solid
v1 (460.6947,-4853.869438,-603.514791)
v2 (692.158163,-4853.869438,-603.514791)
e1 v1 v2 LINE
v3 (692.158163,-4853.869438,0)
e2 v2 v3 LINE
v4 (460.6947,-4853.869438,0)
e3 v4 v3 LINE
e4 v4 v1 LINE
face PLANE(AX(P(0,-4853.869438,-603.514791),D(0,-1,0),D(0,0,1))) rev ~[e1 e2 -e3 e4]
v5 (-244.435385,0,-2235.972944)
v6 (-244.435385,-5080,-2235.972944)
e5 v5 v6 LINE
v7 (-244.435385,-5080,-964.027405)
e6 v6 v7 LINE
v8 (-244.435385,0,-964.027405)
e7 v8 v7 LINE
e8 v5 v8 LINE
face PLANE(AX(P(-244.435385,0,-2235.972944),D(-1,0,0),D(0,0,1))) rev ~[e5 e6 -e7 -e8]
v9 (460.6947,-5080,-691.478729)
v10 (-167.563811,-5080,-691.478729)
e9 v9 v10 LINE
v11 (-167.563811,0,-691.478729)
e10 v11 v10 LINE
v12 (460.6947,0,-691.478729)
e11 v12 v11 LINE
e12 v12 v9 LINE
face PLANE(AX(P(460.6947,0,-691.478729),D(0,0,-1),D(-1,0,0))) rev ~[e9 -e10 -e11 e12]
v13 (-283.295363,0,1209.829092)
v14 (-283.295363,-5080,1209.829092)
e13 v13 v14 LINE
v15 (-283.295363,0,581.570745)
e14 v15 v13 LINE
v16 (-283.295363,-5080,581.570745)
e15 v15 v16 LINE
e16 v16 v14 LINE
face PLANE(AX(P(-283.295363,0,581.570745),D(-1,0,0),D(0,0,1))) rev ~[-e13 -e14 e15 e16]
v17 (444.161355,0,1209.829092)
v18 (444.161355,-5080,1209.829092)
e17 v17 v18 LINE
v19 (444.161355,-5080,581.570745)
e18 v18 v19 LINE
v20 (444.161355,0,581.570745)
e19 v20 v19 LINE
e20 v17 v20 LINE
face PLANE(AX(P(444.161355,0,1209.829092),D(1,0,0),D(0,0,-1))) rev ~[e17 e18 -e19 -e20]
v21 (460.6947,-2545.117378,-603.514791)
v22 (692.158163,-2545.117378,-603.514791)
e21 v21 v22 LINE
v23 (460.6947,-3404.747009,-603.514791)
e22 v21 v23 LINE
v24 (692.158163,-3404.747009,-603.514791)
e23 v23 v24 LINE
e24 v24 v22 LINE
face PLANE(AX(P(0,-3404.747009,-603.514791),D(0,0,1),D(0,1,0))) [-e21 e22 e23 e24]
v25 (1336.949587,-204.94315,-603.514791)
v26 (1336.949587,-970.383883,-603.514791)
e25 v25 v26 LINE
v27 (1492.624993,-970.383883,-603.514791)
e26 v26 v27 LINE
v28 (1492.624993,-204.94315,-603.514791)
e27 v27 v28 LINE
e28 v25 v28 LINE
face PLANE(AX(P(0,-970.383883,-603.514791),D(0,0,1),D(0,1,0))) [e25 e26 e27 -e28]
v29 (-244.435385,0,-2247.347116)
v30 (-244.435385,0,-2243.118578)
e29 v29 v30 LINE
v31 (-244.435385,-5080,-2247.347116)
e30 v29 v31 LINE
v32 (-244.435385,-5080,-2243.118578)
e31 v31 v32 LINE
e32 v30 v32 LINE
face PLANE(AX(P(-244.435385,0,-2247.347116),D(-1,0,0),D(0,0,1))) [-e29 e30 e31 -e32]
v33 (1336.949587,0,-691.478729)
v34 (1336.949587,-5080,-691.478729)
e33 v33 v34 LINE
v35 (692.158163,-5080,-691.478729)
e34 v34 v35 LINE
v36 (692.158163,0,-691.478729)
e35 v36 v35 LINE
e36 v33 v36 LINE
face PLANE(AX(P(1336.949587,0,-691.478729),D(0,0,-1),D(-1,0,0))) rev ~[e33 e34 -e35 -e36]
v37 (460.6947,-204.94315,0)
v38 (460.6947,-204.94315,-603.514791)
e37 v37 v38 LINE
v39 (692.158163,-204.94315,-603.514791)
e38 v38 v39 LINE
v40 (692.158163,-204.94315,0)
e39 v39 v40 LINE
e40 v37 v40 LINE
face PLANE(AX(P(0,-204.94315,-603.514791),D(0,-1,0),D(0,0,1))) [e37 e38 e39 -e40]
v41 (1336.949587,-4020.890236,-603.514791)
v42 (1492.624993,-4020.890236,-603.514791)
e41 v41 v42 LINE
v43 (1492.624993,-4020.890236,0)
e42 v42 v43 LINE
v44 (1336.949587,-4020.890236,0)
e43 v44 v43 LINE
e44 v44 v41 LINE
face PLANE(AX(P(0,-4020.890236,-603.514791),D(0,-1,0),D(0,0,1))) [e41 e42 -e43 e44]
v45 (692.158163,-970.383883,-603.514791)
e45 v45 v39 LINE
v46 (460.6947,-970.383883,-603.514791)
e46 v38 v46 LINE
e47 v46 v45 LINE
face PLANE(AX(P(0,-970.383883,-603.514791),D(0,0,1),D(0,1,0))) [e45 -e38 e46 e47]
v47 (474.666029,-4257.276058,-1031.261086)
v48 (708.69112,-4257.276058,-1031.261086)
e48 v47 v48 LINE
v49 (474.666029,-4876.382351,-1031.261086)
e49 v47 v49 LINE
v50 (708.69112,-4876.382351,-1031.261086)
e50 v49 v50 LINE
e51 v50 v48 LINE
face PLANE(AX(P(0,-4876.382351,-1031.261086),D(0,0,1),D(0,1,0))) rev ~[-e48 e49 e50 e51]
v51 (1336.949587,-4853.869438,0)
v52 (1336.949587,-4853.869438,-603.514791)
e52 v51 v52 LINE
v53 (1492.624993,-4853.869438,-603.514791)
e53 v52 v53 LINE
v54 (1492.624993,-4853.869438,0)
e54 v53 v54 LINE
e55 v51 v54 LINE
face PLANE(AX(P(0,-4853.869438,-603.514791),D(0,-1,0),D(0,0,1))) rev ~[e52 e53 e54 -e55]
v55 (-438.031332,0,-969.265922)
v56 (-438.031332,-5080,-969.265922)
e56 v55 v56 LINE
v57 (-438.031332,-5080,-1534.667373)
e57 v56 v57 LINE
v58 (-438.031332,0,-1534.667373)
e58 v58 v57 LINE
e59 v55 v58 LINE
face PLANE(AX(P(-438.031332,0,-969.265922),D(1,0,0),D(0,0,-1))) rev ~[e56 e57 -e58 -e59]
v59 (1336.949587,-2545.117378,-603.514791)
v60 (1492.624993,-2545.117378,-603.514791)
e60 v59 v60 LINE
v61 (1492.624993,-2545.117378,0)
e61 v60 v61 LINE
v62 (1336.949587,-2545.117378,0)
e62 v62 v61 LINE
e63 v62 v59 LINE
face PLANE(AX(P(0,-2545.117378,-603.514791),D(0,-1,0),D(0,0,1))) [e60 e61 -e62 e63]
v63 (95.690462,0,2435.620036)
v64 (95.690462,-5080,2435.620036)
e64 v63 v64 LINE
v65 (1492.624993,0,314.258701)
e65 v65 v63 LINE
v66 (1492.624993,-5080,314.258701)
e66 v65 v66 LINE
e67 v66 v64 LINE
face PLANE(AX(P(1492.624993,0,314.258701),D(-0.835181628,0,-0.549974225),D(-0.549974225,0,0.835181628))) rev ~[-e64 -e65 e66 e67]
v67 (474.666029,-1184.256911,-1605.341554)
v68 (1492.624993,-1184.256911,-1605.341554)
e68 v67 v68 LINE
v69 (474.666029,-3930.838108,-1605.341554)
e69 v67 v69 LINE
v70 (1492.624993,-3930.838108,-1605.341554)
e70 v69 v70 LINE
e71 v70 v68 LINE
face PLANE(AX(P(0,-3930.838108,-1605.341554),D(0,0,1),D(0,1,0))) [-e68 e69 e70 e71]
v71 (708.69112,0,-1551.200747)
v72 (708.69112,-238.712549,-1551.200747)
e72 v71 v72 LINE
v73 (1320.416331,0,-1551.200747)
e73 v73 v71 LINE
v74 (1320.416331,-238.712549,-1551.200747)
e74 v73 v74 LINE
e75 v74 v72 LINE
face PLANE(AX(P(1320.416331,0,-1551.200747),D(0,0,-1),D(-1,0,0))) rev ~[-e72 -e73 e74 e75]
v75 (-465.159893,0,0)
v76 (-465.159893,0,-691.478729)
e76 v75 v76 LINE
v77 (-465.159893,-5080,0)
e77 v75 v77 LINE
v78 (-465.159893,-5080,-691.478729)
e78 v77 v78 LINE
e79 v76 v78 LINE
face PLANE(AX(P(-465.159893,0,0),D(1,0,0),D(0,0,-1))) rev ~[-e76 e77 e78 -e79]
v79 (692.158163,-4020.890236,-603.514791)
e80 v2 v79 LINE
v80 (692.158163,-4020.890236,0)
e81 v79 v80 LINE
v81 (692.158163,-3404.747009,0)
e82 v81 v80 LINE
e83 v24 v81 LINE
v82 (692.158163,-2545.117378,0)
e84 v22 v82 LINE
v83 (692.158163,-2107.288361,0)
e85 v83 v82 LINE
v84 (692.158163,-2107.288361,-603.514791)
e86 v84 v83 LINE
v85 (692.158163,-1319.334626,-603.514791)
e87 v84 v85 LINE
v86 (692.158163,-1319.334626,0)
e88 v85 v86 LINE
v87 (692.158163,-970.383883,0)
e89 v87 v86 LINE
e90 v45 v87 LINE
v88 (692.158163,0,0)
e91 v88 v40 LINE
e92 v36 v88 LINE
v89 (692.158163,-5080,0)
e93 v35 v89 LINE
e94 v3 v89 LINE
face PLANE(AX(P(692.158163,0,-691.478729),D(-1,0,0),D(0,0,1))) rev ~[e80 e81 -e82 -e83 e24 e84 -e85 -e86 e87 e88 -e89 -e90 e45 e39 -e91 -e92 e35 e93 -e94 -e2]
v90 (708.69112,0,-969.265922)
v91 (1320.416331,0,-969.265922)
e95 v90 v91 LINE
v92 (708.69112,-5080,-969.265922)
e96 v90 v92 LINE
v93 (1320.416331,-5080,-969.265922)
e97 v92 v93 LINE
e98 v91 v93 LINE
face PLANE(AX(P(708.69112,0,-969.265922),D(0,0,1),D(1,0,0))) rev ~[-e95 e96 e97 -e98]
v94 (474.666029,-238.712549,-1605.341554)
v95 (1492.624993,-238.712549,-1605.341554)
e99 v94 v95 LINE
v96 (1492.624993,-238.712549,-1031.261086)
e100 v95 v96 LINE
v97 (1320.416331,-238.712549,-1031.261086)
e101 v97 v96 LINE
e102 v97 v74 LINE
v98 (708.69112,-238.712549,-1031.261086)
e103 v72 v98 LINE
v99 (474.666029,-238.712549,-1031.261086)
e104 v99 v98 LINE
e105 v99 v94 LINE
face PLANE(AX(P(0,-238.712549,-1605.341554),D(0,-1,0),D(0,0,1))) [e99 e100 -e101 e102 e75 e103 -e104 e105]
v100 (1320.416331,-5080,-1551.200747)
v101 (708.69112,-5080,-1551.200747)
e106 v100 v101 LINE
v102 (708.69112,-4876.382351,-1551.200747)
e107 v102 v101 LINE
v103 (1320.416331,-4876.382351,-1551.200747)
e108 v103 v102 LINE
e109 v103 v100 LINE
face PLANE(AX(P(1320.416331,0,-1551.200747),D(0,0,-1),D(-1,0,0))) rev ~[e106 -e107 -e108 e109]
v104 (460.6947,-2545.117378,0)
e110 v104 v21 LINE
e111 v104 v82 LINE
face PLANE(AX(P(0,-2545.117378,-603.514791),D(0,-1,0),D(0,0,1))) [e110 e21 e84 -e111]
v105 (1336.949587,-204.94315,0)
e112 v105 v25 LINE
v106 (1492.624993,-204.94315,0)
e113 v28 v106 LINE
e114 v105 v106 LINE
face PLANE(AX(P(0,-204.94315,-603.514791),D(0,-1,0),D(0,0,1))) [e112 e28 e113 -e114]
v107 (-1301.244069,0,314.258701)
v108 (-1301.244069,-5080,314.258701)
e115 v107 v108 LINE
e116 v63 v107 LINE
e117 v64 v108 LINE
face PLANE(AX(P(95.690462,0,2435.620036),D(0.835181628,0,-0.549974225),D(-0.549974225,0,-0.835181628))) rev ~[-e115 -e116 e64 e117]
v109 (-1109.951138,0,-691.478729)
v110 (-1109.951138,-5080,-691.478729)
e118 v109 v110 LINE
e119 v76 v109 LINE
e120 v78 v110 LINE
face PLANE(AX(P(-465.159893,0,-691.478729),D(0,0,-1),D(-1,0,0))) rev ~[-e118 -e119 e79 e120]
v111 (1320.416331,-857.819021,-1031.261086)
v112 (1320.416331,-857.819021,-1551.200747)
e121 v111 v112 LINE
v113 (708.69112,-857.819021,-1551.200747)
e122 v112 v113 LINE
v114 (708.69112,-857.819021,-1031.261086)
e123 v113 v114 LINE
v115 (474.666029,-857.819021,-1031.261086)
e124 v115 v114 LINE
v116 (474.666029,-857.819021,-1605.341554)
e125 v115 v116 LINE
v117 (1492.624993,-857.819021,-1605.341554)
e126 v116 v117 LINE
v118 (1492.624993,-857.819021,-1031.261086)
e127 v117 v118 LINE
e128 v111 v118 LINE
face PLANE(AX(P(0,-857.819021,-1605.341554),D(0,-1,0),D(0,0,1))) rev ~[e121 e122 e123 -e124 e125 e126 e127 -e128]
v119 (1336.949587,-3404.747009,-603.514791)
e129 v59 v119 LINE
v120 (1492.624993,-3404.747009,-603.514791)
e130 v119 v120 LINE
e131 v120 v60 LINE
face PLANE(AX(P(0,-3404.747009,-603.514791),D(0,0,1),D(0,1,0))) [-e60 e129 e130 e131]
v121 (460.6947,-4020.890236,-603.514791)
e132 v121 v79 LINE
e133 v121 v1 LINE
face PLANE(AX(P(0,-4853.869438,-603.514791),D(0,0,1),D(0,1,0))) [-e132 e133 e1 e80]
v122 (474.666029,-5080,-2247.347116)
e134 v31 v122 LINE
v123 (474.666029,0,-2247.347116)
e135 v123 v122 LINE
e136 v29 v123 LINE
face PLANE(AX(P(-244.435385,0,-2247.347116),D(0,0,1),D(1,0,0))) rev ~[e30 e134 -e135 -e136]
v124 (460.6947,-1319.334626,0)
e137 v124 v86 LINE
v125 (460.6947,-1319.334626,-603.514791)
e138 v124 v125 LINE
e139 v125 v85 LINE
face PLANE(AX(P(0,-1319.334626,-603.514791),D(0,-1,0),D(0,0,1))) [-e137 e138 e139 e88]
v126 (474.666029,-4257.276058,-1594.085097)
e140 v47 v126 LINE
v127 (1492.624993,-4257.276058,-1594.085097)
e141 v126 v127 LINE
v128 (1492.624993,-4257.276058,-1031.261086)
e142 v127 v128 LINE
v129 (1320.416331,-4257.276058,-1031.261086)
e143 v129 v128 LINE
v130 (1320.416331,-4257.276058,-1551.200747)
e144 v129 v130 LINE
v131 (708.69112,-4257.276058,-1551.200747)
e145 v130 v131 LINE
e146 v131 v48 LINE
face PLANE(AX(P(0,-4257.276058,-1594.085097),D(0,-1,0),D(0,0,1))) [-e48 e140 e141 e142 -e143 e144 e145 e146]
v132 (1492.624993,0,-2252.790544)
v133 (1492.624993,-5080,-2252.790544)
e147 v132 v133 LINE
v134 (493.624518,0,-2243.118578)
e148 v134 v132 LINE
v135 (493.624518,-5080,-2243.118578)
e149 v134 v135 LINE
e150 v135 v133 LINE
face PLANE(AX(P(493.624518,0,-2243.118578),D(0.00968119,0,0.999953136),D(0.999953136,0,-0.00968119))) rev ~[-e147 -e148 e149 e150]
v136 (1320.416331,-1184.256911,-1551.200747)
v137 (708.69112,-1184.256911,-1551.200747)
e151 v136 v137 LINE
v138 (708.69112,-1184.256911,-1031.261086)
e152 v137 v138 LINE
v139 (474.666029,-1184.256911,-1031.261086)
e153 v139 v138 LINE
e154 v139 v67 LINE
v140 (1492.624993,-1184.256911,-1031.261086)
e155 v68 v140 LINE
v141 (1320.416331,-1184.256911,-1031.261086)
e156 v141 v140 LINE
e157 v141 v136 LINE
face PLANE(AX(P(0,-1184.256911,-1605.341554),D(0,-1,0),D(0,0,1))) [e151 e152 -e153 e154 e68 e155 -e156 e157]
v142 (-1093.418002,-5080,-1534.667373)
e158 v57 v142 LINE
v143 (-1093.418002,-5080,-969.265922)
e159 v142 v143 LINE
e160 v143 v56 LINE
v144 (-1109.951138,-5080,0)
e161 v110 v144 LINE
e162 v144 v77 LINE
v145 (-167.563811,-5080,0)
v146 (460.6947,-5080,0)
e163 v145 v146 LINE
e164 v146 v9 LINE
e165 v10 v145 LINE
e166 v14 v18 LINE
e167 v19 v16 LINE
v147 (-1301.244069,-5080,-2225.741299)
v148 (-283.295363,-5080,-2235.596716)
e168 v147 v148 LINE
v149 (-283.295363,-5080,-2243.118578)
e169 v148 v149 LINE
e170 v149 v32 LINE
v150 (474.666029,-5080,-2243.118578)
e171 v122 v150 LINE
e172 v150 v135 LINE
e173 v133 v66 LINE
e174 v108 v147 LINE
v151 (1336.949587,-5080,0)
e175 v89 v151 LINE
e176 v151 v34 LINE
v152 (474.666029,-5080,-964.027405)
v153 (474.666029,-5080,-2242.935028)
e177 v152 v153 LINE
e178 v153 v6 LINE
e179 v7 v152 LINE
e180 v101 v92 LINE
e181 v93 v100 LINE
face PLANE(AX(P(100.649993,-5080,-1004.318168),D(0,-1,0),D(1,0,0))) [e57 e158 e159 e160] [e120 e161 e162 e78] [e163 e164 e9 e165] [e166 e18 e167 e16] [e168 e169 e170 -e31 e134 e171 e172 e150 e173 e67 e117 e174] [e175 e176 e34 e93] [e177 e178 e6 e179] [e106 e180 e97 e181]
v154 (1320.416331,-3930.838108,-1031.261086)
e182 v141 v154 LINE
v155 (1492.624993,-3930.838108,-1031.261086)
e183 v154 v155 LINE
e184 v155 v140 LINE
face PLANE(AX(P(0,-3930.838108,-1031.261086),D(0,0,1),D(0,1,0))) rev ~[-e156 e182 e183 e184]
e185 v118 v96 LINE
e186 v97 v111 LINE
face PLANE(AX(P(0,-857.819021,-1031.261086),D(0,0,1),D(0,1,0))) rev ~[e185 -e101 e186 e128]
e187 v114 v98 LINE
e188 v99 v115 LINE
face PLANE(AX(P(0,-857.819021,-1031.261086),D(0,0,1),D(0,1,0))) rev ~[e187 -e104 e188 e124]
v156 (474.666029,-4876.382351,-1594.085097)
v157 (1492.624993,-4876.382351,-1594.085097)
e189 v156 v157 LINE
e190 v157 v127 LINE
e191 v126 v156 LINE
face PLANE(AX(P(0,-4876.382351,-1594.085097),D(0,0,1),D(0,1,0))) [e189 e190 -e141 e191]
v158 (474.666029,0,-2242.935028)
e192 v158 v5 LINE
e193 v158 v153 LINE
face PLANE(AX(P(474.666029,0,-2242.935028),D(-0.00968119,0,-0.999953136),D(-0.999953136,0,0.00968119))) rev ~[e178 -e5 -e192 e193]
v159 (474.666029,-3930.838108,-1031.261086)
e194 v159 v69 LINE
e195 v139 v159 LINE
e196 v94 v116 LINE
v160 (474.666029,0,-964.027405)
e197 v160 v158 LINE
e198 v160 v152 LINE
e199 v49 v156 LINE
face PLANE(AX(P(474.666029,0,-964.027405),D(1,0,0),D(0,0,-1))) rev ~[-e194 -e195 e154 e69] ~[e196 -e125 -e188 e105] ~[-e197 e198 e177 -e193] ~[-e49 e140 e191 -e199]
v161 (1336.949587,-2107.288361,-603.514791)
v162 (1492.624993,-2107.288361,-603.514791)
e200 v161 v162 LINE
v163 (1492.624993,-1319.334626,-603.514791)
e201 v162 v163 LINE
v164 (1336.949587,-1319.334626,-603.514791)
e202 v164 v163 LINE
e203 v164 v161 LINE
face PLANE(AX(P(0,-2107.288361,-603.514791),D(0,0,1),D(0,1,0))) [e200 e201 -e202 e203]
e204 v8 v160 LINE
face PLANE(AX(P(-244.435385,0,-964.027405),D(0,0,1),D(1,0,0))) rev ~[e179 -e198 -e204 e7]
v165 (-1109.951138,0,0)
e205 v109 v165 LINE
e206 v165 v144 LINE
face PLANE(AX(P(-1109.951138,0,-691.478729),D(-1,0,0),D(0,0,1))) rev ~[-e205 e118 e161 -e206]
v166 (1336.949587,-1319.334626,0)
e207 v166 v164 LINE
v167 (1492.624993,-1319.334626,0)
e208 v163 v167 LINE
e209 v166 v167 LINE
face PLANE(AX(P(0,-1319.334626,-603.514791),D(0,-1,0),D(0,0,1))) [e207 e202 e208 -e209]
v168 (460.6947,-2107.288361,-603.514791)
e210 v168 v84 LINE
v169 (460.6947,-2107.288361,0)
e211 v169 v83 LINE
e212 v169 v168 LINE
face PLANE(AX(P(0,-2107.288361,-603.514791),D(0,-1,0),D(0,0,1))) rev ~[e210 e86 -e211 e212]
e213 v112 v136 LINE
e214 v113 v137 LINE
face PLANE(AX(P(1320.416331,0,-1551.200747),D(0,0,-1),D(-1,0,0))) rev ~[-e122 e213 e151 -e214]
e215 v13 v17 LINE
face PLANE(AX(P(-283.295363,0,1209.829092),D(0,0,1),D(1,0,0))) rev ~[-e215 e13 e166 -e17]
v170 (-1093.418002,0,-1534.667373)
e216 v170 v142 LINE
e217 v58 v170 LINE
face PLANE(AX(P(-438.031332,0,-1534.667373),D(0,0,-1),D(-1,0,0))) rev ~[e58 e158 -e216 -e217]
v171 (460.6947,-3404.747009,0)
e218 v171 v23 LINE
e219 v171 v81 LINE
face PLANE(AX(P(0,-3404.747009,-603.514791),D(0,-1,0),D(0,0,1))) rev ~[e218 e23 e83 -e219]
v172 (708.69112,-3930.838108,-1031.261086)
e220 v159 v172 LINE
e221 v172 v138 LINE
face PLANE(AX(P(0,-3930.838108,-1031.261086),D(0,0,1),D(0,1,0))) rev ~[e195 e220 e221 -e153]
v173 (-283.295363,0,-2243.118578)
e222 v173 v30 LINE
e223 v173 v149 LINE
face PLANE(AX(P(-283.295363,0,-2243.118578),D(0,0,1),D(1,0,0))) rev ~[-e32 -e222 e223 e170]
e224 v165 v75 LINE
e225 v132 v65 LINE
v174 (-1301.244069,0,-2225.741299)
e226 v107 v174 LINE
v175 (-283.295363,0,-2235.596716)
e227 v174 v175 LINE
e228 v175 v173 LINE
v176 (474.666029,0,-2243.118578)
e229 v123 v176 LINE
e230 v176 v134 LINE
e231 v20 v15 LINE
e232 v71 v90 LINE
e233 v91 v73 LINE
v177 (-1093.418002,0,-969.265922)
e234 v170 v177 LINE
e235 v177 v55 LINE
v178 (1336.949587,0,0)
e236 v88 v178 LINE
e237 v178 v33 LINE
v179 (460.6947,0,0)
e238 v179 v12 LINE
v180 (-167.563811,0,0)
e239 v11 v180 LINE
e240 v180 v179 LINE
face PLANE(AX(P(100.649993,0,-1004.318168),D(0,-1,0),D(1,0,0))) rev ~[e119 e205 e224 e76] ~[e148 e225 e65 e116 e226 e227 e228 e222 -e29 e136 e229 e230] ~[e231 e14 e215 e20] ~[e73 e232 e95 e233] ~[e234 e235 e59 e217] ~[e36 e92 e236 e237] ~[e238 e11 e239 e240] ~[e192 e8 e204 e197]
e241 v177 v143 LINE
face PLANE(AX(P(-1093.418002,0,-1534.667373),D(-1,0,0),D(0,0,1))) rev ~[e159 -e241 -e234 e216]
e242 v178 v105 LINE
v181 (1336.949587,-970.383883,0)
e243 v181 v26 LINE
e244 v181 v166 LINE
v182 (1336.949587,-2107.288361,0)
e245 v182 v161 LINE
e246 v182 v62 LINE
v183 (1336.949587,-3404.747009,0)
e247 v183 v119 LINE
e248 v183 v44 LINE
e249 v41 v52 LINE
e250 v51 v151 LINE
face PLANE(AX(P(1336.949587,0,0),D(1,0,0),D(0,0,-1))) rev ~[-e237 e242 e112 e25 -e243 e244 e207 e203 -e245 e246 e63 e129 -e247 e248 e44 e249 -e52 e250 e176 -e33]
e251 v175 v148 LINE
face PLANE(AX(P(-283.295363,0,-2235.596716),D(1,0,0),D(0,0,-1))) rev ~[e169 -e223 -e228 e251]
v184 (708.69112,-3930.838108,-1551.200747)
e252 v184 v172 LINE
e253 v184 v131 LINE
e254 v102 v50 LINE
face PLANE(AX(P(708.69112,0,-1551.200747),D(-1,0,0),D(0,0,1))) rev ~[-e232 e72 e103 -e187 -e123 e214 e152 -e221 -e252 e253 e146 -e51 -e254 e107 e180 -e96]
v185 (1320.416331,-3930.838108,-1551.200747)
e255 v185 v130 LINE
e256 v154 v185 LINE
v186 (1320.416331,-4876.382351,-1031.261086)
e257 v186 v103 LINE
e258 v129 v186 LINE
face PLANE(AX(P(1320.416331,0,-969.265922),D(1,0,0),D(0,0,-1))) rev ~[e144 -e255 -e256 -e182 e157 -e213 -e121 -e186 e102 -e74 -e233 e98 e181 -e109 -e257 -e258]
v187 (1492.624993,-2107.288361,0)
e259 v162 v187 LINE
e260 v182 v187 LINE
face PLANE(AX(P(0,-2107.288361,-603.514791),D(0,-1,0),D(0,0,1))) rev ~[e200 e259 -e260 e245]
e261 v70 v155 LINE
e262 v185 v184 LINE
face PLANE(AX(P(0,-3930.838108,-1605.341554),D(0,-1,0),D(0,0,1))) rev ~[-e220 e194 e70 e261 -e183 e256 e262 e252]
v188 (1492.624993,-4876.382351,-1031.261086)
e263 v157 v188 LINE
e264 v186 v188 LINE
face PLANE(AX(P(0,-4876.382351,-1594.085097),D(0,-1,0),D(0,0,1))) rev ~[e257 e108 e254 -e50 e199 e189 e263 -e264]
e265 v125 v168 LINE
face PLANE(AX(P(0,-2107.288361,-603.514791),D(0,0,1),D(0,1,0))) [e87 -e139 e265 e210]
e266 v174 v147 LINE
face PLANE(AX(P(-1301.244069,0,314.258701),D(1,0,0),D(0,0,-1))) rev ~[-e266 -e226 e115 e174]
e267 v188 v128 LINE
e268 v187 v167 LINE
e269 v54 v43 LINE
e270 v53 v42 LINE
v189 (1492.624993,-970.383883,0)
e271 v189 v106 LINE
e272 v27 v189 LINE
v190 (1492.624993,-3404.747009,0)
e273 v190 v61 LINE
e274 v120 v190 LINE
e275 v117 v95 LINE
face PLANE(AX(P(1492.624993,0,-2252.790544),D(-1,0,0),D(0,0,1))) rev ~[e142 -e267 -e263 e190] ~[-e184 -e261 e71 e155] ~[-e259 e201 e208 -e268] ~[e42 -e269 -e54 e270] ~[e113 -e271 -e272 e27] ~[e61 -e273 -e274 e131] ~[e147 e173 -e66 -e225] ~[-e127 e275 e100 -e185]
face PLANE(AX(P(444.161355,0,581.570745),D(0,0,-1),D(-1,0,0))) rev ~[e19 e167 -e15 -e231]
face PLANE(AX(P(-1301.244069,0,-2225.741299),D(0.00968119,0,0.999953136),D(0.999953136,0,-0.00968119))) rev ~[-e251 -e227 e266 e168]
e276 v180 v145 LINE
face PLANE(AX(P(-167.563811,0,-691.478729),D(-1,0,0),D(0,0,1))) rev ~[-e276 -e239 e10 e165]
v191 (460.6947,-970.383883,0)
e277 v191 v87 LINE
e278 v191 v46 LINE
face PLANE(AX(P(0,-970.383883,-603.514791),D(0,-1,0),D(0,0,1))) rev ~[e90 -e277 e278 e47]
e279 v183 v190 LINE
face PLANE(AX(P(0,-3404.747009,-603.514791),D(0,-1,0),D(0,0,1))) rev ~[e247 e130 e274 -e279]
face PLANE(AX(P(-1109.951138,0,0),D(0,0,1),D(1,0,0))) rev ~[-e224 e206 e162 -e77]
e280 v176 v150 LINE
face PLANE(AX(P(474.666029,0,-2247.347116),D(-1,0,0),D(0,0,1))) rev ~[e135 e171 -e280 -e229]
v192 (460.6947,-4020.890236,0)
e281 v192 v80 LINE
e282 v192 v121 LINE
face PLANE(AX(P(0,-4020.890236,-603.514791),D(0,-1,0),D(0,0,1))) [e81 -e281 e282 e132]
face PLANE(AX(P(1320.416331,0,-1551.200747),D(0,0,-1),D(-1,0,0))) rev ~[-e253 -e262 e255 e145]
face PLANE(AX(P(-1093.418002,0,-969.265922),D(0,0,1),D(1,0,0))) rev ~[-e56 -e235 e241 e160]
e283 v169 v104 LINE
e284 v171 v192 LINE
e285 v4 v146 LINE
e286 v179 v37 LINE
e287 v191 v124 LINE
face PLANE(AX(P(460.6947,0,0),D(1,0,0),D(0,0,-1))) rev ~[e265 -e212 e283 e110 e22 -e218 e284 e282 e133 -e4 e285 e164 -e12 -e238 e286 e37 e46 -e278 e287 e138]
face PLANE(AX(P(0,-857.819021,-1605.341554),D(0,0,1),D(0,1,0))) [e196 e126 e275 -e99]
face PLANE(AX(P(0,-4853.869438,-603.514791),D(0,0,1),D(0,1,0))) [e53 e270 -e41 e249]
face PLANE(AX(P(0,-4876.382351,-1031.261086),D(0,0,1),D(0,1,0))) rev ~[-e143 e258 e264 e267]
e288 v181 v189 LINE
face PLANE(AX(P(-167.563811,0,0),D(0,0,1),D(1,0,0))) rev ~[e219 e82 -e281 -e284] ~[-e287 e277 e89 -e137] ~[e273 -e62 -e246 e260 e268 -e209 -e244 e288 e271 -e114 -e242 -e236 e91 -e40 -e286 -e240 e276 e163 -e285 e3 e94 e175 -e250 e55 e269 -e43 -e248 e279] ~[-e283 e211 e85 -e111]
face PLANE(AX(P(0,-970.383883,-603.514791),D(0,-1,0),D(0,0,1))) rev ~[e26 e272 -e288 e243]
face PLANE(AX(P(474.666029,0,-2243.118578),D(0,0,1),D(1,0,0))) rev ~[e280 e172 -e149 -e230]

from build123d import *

# Parameters (mm, degrees)
F0_W     = 719.1014140844
F0_H     = 4.2285388547
F1_DEPTH = 5080
F2_W     = 619.1064715385
F2_H     = 574.0804672241
F2_W_2   = 2746.581196785
F2_W_3   = 619.1062927246
F2_H_2   = 562.824010849
F2_W_4   = 859.6296310425
F2_H_3   = 603.514790535
F2_W_5   = 832.9792022705
F2_W_6   = 787.9537343979
F2_W_7   = 765.4407322407
F3_DEPTH = 22860


with BuildPart() as f1:
    # F0 (on Front) → F1 (new body)
    with BuildSketch(Plane.XZ):
        Polygon((1492.6249932137, 314.2587009146), (-1301.2440692736, 314.2587009146), (-1301.2440692736, -2225.7412990854), (-283.2953631878, -2235.5967159756), (-283.2953631878, -873.3429312706), (493.6245184562, -873.3429312706), (493.6245184562, -2243.1185776156), (1492.6249932137, -2252.7905444773), align=None)
        Polygon((-1093.4180021286, -1251.9666472425), (-1093.4180021286, -969.2659217814), (-765.7246668978, -969.2659217814), (-438.031331667, -969.2659217814), (-438.031331667, -1251.9666472425), (-438.031331667, -1534.6673727036), (-765.7246668978, -1534.6673727036), (-1093.4180021286, -1534.6673727036), align=None, mode=Mode.SUBTRACT)
        Polygon((-1109.9511384964, -345.739364624), (-1109.9511384964, 0), (-787.5555157661, 0), (-465.1598930359, 0), (-465.1598930359, -345.739364624), (-465.1598930359, -691.478729248), (-787.5555157661, -691.478729248), (-1109.9511384964, -691.478729248), align=None, mode=Mode.SUBTRACT)
        Polygon((708.6911201477, -1260.2333346357), (708.6911201477, -969.2659217814), (1014.5537257195, -969.2659217814), (1320.4163312912, -969.2659217814), (1320.4163312912, -1260.2333346357), (1320.4163312912, -1551.2007474899), (1014.5537257195, -1551.2007474899), (708.6911201477, -1551.2007474899), align=None, mode=Mode.SUBTRACT)
        Polygon((-167.5638109446, -345.739364624), (-167.5638109446, 0), (146.5654447675, 0), (460.6947004795, 0), (460.6947004795, -345.739364624), (460.6947004795, -691.478729248), (146.5654447675, -691.478729248), (-167.5638109446, -691.478729248), align=None, mode=Mode.SUBTRACT)
        Polygon((692.1581625938, -345.739364624), (692.1581625938, 0), (1014.5538747311, 0), (1336.9495868683, 0), (1336.9495868683, -345.739364624), (1336.9495868683, -691.478729248), (1014.5538747311, -691.478729248), (692.1581625938, -691.478729248), align=None, mode=Mode.SUBTRACT)
        Polygon((95.69046197, 2435.6200363355), (-1301.2440692736, 314.2587009146), (1492.6249932137, 314.2587009146), align=None)
        Polygon((-283.2953631878, 895.6999182701), (-283.2953631878, 1209.8290920258), (80.4329961538, 1209.8290920258), (444.1613554955, 1209.8290920258), (444.1613554955, 895.6999182701), (444.1613554955, 581.5707445145), (80.4329961538, 581.5707445145), (-283.2953631878, 581.5707445145), align=None, mode=Mode.SUBTRACT)
        Polygon((-283.2953631878, -873.3429312706), (-283.2953631878, -2235.5967159756), (-244.4353848696, -2235.972944448), (-244.4353848696, -964.0274047852), (474.6660292149, -964.0274047852), (474.6660292149, -2242.9350282737), (493.6245184562, -2243.1185776156), (493.6245184562, -873.3429312706), align=None)
        Polygon((-244.4353848696, -2235.972944448), (-283.2953631878, -2235.5967159756), (-283.2953631878, -2243.1185776156), (-244.4353848696, -2243.1185776156), align=None)
        Polygon((474.6660292149, -2242.9350282737), (-244.4353848696, -2235.972944448), (-244.4353848696, -2243.1185776156), (474.6660292149, -2243.1185776156), align=None)
        Polygon((474.6660292149, -2243.1185776156), (493.6245184562, -2243.1185776156), (474.6660292149, -2242.9350282737), align=None)
        with Locations((115.1153221726, -2245.232847043)):
            Rectangle(F0_W, F0_H)
    extrude(amount=F1_DEPTH)

    # F2 (on Right) → F3 (cut)
    with BuildSketch(Plane.YZ):
        with Locations((-548.2657849789, -1318.301320076)):
            Rectangle(F2_W, F2_H)
        with Locations((-2557.5475096703, -1318.301320076)):
            Rectangle(F2_W_2, F2_H)
        with Locations((-4566.8292045593, -1312.6730918884)):
            Rectangle(F2_W_3, F2_H_2)
        with Locations((-2974.9321937561, -301.7573952675)):
            Rectangle(F2_W_4, F2_H_3)
        with Locations((-4437.3798370361, -301.7573952675)):
            Rectangle(F2_W_5, F2_H_3)
        with Locations((-1713.3114933968, -301.7573952675)):
            Rectangle(F2_W_6, F2_H_3)
        with Locations((-587.6635164022, -301.7573952675)):
            Rectangle(F2_W_7, F2_H_3)
    extrude(amount=F3_DEPTH, mode=Mode.SUBTRACT)


solid = f1.part
